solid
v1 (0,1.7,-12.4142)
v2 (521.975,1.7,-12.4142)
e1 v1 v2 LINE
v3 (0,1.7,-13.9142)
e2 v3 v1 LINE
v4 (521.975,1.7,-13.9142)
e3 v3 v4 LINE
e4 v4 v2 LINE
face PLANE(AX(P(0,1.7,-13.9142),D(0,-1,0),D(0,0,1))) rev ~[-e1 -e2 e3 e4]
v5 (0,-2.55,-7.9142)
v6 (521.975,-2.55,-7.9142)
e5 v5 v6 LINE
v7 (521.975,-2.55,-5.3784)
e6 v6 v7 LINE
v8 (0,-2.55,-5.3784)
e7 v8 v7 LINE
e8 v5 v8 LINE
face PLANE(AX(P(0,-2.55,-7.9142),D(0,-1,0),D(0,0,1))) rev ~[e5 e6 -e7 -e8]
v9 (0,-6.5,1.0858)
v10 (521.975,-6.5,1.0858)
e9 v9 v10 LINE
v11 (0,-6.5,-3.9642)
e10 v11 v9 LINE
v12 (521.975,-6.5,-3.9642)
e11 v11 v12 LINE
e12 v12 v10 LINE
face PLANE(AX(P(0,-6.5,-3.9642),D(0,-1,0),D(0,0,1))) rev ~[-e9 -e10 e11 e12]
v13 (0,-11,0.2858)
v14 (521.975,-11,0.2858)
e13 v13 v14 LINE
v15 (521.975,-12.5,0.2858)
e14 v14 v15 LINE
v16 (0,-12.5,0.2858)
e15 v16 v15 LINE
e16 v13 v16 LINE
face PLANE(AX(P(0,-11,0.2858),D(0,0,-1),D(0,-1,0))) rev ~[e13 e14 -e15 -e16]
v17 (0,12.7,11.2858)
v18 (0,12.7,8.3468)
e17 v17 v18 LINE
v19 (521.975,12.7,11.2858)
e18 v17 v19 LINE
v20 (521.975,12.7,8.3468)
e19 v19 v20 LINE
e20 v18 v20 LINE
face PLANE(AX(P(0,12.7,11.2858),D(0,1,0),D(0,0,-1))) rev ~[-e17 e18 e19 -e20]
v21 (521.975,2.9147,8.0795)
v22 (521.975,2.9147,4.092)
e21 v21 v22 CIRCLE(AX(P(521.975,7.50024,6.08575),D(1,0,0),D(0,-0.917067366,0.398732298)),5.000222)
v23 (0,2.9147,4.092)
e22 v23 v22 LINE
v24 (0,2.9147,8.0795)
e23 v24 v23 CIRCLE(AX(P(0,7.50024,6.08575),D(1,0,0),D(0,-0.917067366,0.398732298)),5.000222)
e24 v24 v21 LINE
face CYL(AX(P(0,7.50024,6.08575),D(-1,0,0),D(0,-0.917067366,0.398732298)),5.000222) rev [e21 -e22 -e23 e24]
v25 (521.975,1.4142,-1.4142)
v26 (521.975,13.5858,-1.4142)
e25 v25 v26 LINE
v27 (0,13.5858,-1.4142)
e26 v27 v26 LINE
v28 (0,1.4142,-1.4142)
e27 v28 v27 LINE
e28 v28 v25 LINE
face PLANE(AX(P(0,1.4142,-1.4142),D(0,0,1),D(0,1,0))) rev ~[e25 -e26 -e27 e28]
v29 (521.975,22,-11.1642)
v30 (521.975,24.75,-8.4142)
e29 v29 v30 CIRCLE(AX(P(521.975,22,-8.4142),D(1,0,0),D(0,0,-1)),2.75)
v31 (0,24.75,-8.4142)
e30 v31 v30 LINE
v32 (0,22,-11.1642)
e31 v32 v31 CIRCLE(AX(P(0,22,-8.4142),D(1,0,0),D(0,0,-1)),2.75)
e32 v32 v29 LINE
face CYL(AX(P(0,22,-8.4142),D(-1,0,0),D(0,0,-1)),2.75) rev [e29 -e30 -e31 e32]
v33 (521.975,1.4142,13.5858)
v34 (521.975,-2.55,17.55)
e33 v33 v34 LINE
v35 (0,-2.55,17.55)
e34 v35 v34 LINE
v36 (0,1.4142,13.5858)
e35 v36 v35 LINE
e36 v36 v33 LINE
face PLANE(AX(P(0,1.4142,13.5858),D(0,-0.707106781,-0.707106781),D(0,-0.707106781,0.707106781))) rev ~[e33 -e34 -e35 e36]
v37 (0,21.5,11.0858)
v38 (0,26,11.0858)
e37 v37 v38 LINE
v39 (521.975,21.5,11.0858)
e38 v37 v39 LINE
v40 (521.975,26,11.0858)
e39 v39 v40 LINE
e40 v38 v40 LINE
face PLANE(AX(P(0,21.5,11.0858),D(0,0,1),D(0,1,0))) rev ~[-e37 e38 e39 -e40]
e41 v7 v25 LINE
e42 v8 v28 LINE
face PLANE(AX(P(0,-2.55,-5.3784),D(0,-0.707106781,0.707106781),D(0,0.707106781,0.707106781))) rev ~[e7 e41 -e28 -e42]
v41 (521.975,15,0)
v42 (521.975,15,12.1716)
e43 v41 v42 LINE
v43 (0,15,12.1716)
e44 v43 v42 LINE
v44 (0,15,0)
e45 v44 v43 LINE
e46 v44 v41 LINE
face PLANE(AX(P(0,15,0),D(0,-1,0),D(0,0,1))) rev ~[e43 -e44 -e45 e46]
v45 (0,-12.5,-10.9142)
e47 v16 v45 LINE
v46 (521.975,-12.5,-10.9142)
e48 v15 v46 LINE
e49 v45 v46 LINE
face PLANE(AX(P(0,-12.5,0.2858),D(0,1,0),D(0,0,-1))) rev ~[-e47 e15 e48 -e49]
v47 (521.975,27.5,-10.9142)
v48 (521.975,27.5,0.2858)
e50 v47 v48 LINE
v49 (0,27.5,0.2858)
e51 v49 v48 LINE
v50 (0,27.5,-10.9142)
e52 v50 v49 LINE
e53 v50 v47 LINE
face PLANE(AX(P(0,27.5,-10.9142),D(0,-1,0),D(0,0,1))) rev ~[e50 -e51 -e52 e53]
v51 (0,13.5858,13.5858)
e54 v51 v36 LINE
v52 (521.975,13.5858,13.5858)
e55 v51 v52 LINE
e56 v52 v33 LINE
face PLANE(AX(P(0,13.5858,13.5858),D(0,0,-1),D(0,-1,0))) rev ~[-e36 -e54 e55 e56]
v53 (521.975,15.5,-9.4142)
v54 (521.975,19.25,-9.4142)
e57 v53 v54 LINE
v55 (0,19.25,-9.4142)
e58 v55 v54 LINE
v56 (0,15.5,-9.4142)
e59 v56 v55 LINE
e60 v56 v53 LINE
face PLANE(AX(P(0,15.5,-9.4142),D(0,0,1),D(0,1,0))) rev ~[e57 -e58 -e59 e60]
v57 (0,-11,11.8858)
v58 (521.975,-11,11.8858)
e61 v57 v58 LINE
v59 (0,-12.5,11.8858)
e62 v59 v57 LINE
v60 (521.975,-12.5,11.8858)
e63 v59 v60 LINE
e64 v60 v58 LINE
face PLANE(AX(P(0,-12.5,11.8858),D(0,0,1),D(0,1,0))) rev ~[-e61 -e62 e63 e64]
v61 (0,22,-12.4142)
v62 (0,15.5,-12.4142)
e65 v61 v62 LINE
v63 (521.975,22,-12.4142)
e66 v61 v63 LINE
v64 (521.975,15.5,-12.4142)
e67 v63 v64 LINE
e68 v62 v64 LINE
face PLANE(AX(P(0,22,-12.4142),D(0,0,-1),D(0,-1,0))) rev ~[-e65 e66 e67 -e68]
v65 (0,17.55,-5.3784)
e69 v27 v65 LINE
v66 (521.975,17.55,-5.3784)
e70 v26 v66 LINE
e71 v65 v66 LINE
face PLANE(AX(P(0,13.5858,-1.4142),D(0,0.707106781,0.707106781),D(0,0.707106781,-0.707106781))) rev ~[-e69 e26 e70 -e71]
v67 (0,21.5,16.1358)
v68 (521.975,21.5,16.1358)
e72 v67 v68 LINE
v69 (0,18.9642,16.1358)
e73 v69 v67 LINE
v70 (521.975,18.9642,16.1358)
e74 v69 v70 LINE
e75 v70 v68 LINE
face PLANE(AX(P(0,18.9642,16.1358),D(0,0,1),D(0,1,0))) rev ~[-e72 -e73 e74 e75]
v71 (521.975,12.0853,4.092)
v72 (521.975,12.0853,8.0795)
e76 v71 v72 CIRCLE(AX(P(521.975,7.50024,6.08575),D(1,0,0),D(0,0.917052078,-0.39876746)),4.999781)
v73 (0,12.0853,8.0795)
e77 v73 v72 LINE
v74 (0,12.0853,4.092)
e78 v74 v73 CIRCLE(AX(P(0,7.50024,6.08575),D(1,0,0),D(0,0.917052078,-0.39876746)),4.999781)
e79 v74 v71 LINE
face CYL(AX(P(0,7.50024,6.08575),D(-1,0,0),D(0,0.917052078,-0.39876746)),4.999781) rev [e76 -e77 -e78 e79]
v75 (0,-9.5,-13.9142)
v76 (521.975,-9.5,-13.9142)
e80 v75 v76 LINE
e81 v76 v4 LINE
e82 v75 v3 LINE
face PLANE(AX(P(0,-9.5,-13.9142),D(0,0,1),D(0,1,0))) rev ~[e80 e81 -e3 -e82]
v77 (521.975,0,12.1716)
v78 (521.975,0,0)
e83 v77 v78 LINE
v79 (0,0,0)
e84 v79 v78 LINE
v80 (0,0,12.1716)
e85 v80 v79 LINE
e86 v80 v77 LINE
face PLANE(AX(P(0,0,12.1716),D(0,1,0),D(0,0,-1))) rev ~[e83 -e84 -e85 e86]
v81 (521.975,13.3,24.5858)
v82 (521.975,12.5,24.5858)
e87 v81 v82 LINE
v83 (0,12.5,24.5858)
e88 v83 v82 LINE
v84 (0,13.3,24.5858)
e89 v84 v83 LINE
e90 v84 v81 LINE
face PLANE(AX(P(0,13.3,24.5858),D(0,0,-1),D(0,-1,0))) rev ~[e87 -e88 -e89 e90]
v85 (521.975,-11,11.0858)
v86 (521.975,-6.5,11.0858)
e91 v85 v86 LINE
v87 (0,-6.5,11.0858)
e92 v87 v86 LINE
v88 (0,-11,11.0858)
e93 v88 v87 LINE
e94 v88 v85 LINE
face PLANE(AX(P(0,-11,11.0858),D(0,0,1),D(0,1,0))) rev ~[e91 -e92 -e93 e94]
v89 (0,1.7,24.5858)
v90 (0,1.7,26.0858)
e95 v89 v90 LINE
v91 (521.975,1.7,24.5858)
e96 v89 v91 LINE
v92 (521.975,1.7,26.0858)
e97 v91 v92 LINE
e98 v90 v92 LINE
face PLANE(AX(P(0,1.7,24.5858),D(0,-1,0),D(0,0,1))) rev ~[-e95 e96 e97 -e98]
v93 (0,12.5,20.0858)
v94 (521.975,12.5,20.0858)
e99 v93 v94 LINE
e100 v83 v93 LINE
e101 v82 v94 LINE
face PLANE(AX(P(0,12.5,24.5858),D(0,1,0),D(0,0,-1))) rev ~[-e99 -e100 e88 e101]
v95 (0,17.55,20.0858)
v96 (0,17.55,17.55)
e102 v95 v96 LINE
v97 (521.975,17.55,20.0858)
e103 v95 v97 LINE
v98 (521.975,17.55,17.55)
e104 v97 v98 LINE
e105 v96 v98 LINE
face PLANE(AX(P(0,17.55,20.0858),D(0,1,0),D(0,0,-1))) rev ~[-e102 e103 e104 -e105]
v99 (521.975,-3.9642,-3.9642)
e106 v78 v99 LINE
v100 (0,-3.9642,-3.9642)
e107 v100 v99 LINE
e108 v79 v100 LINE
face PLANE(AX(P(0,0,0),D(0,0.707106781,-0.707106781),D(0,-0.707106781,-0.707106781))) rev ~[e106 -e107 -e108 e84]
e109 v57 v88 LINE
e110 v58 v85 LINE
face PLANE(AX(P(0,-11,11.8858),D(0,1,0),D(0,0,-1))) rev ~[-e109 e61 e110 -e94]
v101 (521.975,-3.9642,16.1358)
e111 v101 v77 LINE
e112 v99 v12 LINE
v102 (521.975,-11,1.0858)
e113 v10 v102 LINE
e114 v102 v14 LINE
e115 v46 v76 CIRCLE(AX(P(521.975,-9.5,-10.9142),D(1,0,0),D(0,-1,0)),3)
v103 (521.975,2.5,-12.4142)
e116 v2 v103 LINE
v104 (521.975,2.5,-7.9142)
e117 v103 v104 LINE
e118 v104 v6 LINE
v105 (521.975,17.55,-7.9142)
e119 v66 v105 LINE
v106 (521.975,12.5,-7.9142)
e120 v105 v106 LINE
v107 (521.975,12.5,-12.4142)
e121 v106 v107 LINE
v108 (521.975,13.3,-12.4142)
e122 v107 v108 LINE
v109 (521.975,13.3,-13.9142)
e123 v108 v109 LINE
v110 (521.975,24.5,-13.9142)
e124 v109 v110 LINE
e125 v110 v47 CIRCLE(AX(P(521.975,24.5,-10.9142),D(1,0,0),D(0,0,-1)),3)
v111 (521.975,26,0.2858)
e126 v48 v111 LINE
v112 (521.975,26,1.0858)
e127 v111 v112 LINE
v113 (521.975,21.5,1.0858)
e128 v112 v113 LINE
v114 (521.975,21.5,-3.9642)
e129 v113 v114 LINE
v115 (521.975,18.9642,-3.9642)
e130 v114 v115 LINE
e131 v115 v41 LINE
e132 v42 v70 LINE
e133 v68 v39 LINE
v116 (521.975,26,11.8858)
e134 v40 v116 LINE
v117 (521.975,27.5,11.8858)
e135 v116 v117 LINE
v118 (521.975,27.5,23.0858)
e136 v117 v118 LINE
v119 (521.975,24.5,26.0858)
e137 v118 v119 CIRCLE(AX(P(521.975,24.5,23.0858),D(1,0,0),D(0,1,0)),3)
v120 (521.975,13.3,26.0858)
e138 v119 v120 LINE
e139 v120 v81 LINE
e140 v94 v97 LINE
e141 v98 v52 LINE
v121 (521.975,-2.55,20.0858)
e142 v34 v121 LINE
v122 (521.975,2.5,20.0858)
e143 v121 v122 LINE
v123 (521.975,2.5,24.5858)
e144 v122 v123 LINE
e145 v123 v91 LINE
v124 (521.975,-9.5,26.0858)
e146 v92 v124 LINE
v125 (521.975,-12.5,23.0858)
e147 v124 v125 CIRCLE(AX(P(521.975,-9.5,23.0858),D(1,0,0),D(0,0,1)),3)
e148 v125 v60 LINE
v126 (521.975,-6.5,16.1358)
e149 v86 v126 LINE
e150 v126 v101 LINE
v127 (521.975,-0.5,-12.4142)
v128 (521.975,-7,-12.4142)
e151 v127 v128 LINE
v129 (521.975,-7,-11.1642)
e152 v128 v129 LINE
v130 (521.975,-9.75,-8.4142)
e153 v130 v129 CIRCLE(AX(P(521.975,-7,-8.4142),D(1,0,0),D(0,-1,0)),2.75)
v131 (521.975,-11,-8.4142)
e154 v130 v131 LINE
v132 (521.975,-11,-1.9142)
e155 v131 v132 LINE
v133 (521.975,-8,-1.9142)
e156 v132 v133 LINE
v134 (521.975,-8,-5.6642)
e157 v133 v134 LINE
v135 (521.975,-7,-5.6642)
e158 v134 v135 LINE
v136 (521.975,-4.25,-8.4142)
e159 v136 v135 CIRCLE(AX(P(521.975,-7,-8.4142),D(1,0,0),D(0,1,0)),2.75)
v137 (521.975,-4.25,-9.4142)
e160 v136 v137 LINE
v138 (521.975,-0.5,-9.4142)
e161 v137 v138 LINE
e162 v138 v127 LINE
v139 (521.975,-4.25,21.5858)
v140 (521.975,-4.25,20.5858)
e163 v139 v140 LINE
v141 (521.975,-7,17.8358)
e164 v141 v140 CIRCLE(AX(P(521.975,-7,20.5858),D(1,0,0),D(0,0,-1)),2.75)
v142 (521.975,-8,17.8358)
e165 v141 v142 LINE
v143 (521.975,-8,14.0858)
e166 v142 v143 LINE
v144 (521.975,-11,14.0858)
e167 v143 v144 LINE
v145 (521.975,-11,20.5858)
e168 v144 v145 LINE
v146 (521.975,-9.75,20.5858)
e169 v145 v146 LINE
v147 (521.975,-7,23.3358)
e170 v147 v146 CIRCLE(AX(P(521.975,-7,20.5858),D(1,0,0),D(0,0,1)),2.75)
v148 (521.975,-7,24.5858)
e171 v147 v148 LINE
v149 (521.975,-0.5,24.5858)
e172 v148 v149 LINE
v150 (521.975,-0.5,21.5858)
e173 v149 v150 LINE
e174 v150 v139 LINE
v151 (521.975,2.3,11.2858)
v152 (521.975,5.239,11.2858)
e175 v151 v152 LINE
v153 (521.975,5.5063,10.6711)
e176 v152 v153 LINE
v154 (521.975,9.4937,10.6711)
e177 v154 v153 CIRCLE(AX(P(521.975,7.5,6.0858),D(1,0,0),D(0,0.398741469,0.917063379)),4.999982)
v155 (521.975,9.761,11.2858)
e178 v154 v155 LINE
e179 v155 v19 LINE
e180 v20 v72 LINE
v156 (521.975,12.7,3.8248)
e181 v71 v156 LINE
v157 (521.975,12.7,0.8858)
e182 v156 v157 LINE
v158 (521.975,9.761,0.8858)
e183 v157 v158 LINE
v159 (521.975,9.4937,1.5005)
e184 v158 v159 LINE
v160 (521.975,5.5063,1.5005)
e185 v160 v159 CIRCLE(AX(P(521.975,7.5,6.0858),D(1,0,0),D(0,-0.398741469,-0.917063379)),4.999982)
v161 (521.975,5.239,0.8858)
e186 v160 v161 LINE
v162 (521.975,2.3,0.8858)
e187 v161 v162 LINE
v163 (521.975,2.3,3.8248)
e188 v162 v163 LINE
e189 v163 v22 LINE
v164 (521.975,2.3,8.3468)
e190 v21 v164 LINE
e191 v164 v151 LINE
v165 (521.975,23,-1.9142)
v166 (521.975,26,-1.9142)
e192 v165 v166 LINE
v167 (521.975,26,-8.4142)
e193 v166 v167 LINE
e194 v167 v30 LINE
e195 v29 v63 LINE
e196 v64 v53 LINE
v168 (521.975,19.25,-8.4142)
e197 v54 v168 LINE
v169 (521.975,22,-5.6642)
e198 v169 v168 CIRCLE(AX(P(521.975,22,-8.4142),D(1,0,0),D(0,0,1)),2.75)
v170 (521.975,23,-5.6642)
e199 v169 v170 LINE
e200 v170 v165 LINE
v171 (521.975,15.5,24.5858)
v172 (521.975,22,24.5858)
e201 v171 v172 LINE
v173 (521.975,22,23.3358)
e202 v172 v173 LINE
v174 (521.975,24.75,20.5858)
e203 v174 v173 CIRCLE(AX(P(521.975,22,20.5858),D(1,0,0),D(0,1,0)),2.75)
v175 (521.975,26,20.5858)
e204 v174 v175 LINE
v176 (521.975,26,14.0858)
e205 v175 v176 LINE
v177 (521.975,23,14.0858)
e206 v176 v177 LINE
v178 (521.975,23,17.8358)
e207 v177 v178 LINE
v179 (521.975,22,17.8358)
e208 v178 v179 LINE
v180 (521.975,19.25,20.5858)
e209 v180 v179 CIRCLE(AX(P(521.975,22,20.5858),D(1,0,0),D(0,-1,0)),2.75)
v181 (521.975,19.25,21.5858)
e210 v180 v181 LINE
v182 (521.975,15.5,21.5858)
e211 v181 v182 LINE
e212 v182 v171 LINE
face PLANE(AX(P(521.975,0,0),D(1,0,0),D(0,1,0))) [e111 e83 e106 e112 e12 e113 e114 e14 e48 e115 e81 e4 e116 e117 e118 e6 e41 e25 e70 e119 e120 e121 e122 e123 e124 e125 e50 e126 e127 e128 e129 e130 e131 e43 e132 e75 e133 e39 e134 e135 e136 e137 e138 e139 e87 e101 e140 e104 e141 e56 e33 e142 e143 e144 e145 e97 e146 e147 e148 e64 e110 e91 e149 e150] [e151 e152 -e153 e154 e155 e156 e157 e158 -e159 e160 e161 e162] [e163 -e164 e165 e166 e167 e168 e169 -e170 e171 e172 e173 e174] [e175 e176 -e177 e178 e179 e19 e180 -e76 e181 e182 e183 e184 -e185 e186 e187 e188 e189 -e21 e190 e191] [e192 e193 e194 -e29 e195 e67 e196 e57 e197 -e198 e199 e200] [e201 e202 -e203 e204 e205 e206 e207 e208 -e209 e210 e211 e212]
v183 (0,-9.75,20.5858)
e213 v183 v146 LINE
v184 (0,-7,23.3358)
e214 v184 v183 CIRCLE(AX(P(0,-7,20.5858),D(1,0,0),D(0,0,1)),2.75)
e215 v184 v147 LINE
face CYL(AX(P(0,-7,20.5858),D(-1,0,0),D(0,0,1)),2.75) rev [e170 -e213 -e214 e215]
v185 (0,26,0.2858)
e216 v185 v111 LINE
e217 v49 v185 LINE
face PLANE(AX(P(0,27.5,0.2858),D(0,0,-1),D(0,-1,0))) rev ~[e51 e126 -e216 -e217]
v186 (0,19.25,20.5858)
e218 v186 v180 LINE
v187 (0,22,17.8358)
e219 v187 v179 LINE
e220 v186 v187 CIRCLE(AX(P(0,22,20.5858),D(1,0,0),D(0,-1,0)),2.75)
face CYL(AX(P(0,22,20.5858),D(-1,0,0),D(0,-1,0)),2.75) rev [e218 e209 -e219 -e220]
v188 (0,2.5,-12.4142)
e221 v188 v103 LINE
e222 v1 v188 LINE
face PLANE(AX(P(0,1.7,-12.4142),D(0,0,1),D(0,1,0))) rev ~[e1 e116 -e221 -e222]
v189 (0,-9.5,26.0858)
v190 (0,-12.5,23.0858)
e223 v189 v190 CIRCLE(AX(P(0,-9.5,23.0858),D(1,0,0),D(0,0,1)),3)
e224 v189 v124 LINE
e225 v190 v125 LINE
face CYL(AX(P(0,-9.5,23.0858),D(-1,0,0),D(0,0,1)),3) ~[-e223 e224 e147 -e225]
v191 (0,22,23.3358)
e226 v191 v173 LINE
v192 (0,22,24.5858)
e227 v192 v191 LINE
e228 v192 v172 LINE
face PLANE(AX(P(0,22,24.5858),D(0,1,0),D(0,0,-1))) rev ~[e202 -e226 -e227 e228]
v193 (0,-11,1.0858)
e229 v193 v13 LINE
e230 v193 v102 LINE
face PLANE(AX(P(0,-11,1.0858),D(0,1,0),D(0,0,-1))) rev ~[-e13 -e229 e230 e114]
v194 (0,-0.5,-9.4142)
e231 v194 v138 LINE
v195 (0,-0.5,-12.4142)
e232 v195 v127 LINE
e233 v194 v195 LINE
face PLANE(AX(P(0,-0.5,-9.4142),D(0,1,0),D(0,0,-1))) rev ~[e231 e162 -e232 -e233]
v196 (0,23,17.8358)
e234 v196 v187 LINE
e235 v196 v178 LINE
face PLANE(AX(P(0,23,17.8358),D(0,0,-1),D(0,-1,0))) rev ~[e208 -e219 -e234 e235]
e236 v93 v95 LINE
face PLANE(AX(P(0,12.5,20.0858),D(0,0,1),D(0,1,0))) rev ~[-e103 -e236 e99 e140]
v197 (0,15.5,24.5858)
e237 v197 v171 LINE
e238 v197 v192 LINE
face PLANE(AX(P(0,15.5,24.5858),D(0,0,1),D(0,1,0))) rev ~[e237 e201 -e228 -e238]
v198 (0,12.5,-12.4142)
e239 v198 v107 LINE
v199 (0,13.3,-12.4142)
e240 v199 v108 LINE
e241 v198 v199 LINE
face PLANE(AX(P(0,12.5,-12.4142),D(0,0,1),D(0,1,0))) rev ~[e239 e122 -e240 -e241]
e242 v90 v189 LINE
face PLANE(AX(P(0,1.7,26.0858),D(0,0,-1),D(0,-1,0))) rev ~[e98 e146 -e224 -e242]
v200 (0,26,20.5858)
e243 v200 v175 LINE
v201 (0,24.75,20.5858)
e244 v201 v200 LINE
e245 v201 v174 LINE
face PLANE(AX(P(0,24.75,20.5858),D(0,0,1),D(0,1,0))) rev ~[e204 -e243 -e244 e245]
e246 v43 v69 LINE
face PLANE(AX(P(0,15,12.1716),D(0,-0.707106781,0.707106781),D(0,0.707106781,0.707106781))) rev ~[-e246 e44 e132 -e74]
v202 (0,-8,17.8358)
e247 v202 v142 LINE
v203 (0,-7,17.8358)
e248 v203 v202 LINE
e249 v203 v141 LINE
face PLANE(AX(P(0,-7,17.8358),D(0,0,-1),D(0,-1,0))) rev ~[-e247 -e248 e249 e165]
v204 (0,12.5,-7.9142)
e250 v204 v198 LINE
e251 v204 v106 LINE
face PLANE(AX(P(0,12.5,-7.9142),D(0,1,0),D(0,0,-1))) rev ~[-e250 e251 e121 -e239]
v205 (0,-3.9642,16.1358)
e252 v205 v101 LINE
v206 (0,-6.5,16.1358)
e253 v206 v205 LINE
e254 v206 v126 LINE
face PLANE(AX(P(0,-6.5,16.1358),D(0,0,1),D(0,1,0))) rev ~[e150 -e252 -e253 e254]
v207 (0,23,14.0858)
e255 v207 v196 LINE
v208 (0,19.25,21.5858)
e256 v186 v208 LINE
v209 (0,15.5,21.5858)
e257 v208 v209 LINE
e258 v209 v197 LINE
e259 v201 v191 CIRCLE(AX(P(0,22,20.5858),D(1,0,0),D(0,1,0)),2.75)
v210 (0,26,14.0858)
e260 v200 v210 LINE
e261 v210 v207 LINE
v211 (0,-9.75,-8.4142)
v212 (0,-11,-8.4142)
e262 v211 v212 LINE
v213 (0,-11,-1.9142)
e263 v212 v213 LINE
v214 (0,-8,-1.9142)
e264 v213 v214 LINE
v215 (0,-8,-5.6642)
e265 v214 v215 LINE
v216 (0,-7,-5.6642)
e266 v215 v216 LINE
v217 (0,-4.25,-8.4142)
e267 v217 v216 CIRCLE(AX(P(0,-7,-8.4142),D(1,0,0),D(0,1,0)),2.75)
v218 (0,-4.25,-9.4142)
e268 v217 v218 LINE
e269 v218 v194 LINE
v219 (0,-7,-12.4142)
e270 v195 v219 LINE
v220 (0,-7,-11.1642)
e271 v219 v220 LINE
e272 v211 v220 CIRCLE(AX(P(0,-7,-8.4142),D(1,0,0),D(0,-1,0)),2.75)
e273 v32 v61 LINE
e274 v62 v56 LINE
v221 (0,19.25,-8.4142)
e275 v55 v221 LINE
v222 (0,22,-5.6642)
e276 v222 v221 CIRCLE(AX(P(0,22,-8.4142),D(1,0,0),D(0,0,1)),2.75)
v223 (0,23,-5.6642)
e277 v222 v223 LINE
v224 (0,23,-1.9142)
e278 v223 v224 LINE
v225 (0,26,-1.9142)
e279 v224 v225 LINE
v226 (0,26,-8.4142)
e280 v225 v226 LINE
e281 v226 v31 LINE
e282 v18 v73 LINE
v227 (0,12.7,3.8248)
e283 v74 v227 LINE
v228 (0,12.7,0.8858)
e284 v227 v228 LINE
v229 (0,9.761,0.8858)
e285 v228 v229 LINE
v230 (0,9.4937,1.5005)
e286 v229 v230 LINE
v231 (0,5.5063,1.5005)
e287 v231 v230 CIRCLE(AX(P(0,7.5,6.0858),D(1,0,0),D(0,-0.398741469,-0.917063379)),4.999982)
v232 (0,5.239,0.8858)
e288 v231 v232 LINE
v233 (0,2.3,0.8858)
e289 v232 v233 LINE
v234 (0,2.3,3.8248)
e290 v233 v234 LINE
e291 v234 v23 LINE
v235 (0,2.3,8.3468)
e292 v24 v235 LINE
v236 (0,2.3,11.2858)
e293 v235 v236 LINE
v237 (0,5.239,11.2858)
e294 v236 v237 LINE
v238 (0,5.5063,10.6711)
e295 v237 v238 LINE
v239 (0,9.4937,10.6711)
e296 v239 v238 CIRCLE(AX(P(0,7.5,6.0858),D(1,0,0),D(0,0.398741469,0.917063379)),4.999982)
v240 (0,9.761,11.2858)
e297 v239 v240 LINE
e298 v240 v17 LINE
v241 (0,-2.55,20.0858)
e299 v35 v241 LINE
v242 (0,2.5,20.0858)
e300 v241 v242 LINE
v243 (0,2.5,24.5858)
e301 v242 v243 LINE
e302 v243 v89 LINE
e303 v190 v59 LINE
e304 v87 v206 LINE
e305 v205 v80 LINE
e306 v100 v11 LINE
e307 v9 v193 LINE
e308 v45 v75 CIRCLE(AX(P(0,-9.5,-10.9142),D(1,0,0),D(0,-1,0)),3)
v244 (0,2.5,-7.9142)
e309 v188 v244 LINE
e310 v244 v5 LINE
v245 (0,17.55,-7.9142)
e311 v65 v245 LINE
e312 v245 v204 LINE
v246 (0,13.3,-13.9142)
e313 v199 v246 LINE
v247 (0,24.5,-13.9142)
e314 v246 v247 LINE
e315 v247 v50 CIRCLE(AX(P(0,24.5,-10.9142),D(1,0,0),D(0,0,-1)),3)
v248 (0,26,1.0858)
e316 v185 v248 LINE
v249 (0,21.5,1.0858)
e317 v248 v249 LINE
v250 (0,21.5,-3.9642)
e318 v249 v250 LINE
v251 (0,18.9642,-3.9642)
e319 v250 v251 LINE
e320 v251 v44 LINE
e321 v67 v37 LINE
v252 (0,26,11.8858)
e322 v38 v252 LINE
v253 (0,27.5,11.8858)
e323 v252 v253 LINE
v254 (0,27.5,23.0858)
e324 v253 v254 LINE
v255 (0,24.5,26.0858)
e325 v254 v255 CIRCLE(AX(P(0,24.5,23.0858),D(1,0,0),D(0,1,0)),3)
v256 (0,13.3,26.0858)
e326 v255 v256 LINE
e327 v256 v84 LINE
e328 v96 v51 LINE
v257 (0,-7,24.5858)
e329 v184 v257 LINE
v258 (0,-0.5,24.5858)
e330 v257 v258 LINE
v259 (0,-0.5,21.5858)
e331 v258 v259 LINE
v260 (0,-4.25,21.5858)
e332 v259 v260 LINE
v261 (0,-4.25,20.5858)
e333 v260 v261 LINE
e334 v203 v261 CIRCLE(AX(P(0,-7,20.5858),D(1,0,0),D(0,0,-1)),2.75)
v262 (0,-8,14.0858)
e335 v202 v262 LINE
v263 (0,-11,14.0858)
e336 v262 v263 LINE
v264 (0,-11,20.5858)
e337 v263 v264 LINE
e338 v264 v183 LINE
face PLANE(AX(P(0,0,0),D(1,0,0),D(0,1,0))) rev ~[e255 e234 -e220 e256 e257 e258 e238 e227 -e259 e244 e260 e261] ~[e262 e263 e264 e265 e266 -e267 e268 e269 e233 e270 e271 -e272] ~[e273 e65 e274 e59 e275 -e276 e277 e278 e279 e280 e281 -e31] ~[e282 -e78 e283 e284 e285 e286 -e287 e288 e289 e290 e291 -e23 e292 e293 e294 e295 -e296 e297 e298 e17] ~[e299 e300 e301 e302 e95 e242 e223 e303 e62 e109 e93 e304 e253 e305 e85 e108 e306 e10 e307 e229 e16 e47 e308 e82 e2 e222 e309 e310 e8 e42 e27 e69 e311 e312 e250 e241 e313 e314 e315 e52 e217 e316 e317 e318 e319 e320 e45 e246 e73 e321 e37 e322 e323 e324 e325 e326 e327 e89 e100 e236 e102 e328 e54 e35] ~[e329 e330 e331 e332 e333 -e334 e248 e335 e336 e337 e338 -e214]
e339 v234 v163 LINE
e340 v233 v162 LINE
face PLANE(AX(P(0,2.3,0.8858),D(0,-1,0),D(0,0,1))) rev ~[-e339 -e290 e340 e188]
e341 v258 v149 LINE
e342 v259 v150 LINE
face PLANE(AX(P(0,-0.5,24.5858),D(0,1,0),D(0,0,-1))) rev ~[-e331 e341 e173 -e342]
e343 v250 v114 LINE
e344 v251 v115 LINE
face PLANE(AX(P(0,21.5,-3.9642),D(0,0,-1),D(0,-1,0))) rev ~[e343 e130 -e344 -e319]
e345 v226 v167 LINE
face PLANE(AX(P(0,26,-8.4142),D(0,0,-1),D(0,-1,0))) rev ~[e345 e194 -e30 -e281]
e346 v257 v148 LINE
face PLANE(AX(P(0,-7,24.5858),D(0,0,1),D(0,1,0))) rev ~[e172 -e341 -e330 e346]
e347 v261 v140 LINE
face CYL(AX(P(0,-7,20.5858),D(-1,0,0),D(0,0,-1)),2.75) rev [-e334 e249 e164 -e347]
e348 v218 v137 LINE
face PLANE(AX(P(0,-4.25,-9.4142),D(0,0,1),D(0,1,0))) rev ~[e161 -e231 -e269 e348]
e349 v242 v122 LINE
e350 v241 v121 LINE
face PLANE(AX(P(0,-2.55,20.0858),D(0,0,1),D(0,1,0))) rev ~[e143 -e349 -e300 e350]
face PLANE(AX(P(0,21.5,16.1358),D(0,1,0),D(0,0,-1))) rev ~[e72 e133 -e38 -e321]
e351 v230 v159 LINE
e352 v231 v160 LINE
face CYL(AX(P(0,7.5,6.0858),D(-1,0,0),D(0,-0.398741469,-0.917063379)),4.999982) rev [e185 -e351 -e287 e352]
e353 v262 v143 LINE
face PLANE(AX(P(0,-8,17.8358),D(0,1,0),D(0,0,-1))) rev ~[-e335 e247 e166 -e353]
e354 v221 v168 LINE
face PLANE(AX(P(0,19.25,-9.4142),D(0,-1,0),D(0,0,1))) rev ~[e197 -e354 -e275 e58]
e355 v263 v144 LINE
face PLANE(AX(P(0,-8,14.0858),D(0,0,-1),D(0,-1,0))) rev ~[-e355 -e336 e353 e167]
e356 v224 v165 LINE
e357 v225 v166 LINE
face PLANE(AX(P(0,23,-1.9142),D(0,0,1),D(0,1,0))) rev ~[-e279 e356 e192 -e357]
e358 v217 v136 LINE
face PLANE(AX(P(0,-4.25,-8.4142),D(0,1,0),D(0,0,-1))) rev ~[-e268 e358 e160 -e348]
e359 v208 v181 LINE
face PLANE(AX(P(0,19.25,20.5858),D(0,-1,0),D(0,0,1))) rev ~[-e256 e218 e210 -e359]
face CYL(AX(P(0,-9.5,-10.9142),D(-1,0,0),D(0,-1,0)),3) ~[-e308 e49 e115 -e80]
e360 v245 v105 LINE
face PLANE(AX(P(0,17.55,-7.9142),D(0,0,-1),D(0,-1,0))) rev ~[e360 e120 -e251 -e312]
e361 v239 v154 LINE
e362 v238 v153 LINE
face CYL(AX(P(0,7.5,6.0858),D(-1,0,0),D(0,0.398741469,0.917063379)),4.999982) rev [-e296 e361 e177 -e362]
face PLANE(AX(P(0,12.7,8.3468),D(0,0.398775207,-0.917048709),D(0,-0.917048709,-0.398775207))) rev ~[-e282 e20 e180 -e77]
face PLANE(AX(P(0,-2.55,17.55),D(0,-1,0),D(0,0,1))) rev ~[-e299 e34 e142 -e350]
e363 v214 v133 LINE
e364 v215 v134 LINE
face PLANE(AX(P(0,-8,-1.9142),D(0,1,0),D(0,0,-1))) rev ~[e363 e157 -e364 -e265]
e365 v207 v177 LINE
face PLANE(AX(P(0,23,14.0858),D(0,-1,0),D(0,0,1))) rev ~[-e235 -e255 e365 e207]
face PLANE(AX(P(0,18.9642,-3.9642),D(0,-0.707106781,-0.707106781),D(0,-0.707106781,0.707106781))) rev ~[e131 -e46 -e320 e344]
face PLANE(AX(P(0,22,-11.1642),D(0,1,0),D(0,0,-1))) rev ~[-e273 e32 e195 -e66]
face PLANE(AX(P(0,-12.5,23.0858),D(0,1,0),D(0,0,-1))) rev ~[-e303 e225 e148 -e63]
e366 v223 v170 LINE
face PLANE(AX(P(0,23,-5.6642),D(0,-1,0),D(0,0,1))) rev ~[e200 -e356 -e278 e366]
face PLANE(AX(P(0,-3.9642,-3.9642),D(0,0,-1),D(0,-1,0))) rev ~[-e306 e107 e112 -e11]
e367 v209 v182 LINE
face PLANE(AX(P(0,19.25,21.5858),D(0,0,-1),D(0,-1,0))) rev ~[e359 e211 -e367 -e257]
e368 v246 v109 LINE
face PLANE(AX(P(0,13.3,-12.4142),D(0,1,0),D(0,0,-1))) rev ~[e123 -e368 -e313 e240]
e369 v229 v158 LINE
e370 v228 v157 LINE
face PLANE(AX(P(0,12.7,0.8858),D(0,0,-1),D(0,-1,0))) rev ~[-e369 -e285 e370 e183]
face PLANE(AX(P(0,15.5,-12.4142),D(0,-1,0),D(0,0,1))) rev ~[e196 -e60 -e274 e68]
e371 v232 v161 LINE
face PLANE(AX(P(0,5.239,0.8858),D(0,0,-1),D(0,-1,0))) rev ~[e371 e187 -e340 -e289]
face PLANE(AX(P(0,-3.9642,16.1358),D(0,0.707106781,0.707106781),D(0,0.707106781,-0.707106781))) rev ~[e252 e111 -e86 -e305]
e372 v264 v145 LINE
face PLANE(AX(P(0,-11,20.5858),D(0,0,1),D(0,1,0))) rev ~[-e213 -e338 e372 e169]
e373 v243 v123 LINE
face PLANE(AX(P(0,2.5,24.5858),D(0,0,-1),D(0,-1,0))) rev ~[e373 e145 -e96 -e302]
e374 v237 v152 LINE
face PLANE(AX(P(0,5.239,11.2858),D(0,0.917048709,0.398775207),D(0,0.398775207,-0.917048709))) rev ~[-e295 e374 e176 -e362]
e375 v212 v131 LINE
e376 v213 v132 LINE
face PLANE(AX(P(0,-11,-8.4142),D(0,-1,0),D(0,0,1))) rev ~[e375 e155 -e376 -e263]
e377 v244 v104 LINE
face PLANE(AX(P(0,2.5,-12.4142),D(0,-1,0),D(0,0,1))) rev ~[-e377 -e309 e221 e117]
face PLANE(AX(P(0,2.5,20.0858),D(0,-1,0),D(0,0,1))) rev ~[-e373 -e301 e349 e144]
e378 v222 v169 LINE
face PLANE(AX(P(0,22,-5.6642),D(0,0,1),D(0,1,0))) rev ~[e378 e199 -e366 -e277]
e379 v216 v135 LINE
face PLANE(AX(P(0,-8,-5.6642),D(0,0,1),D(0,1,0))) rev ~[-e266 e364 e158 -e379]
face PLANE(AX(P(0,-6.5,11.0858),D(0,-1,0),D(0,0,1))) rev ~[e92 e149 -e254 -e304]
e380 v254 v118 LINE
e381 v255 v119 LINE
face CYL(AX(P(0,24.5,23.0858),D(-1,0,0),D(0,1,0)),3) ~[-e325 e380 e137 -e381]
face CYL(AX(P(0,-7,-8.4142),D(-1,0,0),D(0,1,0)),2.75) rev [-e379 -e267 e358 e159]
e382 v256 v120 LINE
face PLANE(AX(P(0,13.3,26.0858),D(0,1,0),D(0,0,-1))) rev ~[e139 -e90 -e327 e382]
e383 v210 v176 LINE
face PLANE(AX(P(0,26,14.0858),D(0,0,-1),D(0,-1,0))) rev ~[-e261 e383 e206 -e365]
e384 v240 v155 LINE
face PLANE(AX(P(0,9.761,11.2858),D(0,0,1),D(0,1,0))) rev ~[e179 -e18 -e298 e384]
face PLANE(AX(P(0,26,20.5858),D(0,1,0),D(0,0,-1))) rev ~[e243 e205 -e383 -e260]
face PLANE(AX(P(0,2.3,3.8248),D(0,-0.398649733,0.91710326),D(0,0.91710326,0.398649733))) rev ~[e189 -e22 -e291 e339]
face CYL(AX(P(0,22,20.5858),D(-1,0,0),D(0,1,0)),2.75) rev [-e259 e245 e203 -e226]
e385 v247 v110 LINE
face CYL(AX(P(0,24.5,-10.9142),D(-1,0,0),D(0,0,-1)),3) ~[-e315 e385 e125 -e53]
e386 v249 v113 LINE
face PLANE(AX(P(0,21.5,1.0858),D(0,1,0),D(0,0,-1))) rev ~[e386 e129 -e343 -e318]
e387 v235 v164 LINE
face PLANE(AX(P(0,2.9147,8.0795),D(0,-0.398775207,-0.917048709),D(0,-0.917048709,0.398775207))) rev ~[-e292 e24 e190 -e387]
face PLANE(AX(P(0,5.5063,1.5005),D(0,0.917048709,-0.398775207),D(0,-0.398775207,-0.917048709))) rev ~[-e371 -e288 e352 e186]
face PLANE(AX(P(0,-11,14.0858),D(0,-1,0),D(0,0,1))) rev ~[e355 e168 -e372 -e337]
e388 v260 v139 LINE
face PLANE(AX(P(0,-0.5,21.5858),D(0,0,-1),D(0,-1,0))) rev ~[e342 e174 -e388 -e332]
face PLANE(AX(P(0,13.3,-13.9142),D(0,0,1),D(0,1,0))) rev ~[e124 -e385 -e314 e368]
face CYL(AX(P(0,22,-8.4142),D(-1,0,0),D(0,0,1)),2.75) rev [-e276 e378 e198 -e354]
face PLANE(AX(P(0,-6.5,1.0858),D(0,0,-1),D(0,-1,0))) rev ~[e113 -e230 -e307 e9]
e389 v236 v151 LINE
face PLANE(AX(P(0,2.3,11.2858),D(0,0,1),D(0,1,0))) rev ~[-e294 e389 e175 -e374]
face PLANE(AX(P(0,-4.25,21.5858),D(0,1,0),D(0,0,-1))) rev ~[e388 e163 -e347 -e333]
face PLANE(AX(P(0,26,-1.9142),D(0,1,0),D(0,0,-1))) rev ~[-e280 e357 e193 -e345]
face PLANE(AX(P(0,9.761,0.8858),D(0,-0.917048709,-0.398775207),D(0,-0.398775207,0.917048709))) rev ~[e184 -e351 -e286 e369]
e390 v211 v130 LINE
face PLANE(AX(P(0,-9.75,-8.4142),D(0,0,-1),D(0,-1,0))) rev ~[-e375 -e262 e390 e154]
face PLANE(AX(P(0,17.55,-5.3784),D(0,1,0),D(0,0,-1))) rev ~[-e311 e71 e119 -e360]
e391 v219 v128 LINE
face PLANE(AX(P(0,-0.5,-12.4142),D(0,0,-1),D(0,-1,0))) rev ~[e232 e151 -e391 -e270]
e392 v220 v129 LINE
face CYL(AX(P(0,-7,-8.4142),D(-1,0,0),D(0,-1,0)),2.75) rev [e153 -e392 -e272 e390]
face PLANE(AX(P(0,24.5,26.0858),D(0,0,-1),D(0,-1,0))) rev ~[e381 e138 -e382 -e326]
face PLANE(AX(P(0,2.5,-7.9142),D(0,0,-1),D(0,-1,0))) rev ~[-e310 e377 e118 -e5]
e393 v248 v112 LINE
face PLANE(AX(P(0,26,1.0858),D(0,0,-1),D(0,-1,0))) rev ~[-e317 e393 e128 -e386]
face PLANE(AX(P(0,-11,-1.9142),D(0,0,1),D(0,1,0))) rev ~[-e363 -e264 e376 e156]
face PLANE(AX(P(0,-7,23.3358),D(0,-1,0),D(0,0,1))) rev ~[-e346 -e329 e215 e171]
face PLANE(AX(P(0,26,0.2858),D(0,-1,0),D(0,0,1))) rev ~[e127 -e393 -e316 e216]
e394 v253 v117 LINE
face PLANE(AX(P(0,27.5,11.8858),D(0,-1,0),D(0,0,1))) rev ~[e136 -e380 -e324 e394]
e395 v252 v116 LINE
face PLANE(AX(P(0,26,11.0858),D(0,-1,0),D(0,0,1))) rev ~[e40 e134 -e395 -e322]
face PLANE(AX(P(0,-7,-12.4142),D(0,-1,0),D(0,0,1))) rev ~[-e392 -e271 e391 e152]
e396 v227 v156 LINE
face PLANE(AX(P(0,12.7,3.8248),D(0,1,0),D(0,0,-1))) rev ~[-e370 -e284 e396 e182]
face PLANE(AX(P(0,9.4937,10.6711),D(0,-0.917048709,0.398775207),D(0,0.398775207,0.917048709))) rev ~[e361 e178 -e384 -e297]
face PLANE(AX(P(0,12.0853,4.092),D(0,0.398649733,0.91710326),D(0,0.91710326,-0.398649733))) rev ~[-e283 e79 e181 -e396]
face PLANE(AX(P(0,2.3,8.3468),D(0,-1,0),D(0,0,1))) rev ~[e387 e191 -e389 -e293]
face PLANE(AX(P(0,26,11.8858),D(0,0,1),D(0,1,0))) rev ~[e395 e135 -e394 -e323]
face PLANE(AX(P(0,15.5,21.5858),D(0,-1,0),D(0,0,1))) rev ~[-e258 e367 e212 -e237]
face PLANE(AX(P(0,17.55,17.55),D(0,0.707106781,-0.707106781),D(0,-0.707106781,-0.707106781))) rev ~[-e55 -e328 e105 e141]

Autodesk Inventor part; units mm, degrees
ref_plane "YZ Plane" through (0, 0, 0) normal (1, 0, 0) x (0, 1, 0)
ref_plane "XZ Plane" through (0, 0, 0) normal (0, 1, 0) x (-1, 0, 0)
ref_plane "XY Plane" through (0, 0, 0) normal (0, 0, 1) x (1, 0, 0)
sketch "Sketch1" plane through (0, 0, 0) normal (1, 0, 0) x (0, 1, 0)
  line L0 (0, 12.1716) -> (0, 0)
  line L1 (0, 0) -> (-3.9642, -3.9642)
  line L2 (-3.9642, -3.9642) -> (-6.5, -3.9642)
  line L3 (-6.5, -3.9642) -> (-6.5, 1.0858)
  line L4 (-6.5, 1.0858) -> (-11, 1.0858)
  line L5 (-11, 1.0858) -> (-11, 0.2858)
  line L6 (-11, 0.2858) -> (-12.5, 0.2858)
  line L7 (-12.5, 0.2858) -> (-12.5, -10.9142)
  arc A0 (-12.5, -10.9142) -> (-9.5, -13.9142) centre (-9.5, -10.9142) ccw
  line L8 (-9.5, -13.9142) -> (1.7, -13.9142)
  line L9 (1.7, -13.9142) -> (1.7, -12.4142)
  line L10 (1.7, -12.4142) -> (2.5, -12.4142)
  line L11 (2.5, -12.4142) -> (2.5, -7.9142)
  line L12 (2.5, -7.9142) -> (-2.55, -7.9142)
  line L13 (-2.55, -7.9142) -> (-2.55, -5.3784)
  line L14 (-2.55, -5.3784) -> (1.4142, -1.4142)
  line L15 (1.4142, -1.4142) -> (13.5858, -1.4142)
  line L16 (13.5858, -1.4142) -> (17.55, -5.3784)
  line L17 (17.55, -5.3784) -> (17.55, -7.9142)
  line L18 (17.55, -7.9142) -> (12.5, -7.9142)
  line L19 (12.5, -7.9142) -> (12.5, -12.4142)
  line L20 (12.5, -12.4142) -> (13.3, -12.4142)
  line L21 (13.3, -12.4142) -> (13.3, -13.9142)
  line L22 (13.3, -13.9142) -> (24.5, -13.9142)
  arc A1 (24.5, -13.9142) -> (27.5, -10.9142) centre (24.5, -10.9142) ccw
  line L23 (27.5, -10.9142) -> (27.5, 0.2858)
  line L24 (27.5, 0.2858) -> (26, 0.2858)
  line L25 (26, 0.2858) -> (26, 1.0858)
  line L26 (26, 1.0858) -> (21.5, 1.0858)
  line L27 (21.5, 1.0858) -> (21.5, -3.9642)
  line L28 (21.5, -3.9642) -> (18.9642, -3.9642)
  line L29 (18.9642, -3.9642) -> (15, 0)
  line L30 (15, 0) -> (15, 12.1716)
  line L31 (15, 12.1716) -> (18.9642, 16.1358)
  line L32 (18.9642, 16.1358) -> (21.5, 16.1358)
  line L33 (21.5, 16.1358) -> (21.5, 11.0858)
  line L34 (21.5, 11.0858) -> (26, 11.0858)
  line L35 (26, 11.0858) -> (26, 11.8858)
  line L36 (26, 11.8858) -> (27.5, 11.8858)
  line L37 (27.5, 11.8858) -> (27.5, 23.0858)
  arc A2 (27.5, 23.0858) -> (24.5, 26.0858) centre (24.5, 23.0858) ccw
  line L38 (24.5, 26.0858) -> (13.3, 26.0858)
  line L39 (13.3, 26.0858) -> (13.3, 24.5858)
  line L40 (13.3, 24.5858) -> (12.5, 24.5858)
  line L41 (12.5, 24.5858) -> (12.5, 20.0858)
  line L42 (12.5, 20.0858) -> (17.55, 20.0858)
  line L43 (17.55, 20.0858) -> (17.55, 17.55)
  line L44 (17.55, 17.55) -> (13.5858, 13.5858)
  line L45 (13.5858, 13.5858) -> (1.4142, 13.5858)
  line L46 (1.4142, 13.5858) -> (-2.55, 17.55)
  line L47 (-2.55, 17.55) -> (-2.55, 20.0858)
  line L48 (-2.55, 20.0858) -> (2.5, 20.0858)
  line L49 (2.5, 20.0858) -> (2.5, 24.5858)
  line L50 (2.5, 24.5858) -> (1.7, 24.5858)
  line L51 (1.7, 24.5858) -> (1.7, 26.0858)
  line L52 (1.7, 26.0858) -> (-9.5, 26.0858)
  arc A3 (-9.5, 26.0858) -> (-12.5, 23.0858) centre (-9.5, 23.0858) ccw
  line L53 (-12.5, 23.0858) -> (-12.5, 11.8858)
  line L54 (-12.5, 11.8858) -> (-11, 11.8858)
  line L55 (-11, 11.8858) -> (-11, 11.0858)
  line L56 (-11, 11.0858) -> (-6.5, 11.0858)
  line L57 (-6.5, 11.0858) -> (-6.5, 16.1358)
  line L58 (-6.5, 16.1358) -> (-3.9642, 16.1358)
  line L59 (-3.9642, 16.1358) -> (0, 12.1716)
  line L60 (-0.5, 24.5858) -> (-0.5, 21.5858)
  line L61 (-0.5, 21.5858) -> (-4.25, 21.5858)
  line L62 (-4.25, 21.5858) -> (-4.25, 20.5858)
  arc A4 (-7, 17.8358) -> (-4.25, 20.5858) centre (-7, 20.5858) ccw
  line L63 (-7, 17.8358) -> (-8, 17.8358)
  line L64 (-8, 17.8358) -> (-8, 14.0858)
  line L65 (-8, 14.0858) -> (-11, 14.0858)
  line L66 (-11, 14.0858) -> (-11, 20.5858)
  line L67 (-11, 20.5858) -> (-9.75, 20.5858)
  arc A5 (-7, 23.3358) -> (-9.75, 20.5858) centre (-7, 20.5858) ccw
  line L68 (-7, 23.3358) -> (-7, 24.5858)
  line L69 (-7, 24.5858) -> (-0.5, 24.5858)
  line L70 (26, 14.0858) -> (23, 14.0858)
  line L71 (23, 14.0858) -> (23, 17.8358)
  line L72 (23, 17.8358) -> (22, 17.8358)
  arc A6 (19.25, 20.5858) -> (22, 17.8358) centre (22, 20.5858) ccw
  line L73 (19.25, 20.5858) -> (19.25, 21.5858)
  line L74 (19.25, 21.5858) -> (15.5, 21.5858)
  line L75 (15.5, 21.5858) -> (15.5, 24.5858)
  line L76 (15.5, 24.5858) -> (22, 24.5858)
  line L77 (22, 24.5858) -> (22, 23.3358)
  arc A7 (24.75, 20.5858) -> (22, 23.3358) centre (22, 20.5858) ccw
  line L78 (24.75, 20.5858) -> (26, 20.5858)
  line L79 (26, 20.5858) -> (26, 14.0858)
  line L80 (15.5, -12.4142) -> (15.5, -9.4142)
  line L81 (15.5, -9.4142) -> (19.25, -9.4142)
  line L82 (19.25, -9.4142) -> (19.25, -8.4142)
  arc A8 (22, -5.6642) -> (19.25, -8.4142) centre (22, -8.4142) ccw
  line L83 (22, -5.6642) -> (23, -5.6642)
  line L84 (23, -5.6642) -> (23, -1.9142)
  line L85 (23, -1.9142) -> (26, -1.9142)
  line L86 (26, -1.9142) -> (26, -8.4142)
  line L87 (26, -8.4142) -> (24.75, -8.4142)
  arc A9 (22, -11.1642) -> (24.75, -8.4142) centre (22, -8.4142) ccw
  line L88 (22, -11.1642) -> (22, -12.4142)
  line L89 (22, -12.4142) -> (15.5, -12.4142)
  line L90 (9.761, 0.8858) -> (9.4937, 1.5005)
  arc A10 (5.5063, 1.5005) -> (9.4937, 1.5005) centre (7.5, 6.0858) ccw
  line L91 (5.5063, 1.5005) -> (5.239, 0.8858)
  line L92 (5.239, 0.8858) -> (2.3, 0.8858)
  line L93 (2.3, 0.8858) -> (2.3, 3.8248)
  line L94 (2.3, 3.8248) -> (2.9147, 4.092)
  arc A11 (2.9147, 8.0795) -> (2.9147, 4.092) centre (7.5, 6.0858) ccw
  line L95 (2.9147, 8.0795) -> (2.3, 8.3468)
  line L96 (2.3, 8.3468) -> (2.3, 11.2858)
  line L97 (2.3, 11.2858) -> (5.239, 11.2858)
  line L98 (5.239, 11.2858) -> (5.5063, 10.6711)
  arc A12 (9.4937, 10.6711) -> (5.5063, 10.6711) centre (7.5, 6.0858) ccw
  line L99 (9.4937, 10.6711) -> (9.761, 11.2858)
  line L100 (9.761, 11.2858) -> (12.7, 11.2858)
  line L101 (12.7, 11.2858) -> (12.7, 8.3468)
  line L102 (12.7, 8.3468) -> (12.0853, 8.0795)
  arc A13 (12.0853, 4.092) -> (12.0853, 8.0795) centre (7.5, 6.0858) ccw
  line L103 (12.0853, 4.092) -> (12.7, 3.8248)
  line L104 (12.7, 3.8248) -> (12.7, 0.8858)
  line L105 (12.7, 0.8858) -> (9.761, 0.8858)
  line L106 (-11, -1.9142) -> (-8, -1.9142)
  line L107 (-8, -1.9142) -> (-8, -5.6642)
  line L108 (-8, -5.6642) -> (-7, -5.6642)
  arc A14 (-4.25, -8.4142) -> (-7, -5.6642) centre (-7, -8.4142) ccw
  line L109 (-4.25, -8.4142) -> (-4.25, -9.4142)
  line L110 (-4.25, -9.4142) -> (-0.5, -9.4142)
  line L111 (-0.5, -9.4142) -> (-0.5, -12.4142)
  line L112 (-0.5, -12.4142) -> (-7, -12.4142)
  line L113 (-7, -12.4142) -> (-7, -11.1642)
  arc A15 (-9.75, -8.4142) -> (-7, -11.1642) centre (-7, -8.4142) ccw
  line L114 (-9.75, -8.4142) -> (-11, -8.4142)
  line L115 (-11, -8.4142) -> (-11, -1.9142)
extrude "Extrusion1" add sketch "Sketch1" along normal blind 521.975
properties part number "lower side rail" material "Aluminum-6061"
